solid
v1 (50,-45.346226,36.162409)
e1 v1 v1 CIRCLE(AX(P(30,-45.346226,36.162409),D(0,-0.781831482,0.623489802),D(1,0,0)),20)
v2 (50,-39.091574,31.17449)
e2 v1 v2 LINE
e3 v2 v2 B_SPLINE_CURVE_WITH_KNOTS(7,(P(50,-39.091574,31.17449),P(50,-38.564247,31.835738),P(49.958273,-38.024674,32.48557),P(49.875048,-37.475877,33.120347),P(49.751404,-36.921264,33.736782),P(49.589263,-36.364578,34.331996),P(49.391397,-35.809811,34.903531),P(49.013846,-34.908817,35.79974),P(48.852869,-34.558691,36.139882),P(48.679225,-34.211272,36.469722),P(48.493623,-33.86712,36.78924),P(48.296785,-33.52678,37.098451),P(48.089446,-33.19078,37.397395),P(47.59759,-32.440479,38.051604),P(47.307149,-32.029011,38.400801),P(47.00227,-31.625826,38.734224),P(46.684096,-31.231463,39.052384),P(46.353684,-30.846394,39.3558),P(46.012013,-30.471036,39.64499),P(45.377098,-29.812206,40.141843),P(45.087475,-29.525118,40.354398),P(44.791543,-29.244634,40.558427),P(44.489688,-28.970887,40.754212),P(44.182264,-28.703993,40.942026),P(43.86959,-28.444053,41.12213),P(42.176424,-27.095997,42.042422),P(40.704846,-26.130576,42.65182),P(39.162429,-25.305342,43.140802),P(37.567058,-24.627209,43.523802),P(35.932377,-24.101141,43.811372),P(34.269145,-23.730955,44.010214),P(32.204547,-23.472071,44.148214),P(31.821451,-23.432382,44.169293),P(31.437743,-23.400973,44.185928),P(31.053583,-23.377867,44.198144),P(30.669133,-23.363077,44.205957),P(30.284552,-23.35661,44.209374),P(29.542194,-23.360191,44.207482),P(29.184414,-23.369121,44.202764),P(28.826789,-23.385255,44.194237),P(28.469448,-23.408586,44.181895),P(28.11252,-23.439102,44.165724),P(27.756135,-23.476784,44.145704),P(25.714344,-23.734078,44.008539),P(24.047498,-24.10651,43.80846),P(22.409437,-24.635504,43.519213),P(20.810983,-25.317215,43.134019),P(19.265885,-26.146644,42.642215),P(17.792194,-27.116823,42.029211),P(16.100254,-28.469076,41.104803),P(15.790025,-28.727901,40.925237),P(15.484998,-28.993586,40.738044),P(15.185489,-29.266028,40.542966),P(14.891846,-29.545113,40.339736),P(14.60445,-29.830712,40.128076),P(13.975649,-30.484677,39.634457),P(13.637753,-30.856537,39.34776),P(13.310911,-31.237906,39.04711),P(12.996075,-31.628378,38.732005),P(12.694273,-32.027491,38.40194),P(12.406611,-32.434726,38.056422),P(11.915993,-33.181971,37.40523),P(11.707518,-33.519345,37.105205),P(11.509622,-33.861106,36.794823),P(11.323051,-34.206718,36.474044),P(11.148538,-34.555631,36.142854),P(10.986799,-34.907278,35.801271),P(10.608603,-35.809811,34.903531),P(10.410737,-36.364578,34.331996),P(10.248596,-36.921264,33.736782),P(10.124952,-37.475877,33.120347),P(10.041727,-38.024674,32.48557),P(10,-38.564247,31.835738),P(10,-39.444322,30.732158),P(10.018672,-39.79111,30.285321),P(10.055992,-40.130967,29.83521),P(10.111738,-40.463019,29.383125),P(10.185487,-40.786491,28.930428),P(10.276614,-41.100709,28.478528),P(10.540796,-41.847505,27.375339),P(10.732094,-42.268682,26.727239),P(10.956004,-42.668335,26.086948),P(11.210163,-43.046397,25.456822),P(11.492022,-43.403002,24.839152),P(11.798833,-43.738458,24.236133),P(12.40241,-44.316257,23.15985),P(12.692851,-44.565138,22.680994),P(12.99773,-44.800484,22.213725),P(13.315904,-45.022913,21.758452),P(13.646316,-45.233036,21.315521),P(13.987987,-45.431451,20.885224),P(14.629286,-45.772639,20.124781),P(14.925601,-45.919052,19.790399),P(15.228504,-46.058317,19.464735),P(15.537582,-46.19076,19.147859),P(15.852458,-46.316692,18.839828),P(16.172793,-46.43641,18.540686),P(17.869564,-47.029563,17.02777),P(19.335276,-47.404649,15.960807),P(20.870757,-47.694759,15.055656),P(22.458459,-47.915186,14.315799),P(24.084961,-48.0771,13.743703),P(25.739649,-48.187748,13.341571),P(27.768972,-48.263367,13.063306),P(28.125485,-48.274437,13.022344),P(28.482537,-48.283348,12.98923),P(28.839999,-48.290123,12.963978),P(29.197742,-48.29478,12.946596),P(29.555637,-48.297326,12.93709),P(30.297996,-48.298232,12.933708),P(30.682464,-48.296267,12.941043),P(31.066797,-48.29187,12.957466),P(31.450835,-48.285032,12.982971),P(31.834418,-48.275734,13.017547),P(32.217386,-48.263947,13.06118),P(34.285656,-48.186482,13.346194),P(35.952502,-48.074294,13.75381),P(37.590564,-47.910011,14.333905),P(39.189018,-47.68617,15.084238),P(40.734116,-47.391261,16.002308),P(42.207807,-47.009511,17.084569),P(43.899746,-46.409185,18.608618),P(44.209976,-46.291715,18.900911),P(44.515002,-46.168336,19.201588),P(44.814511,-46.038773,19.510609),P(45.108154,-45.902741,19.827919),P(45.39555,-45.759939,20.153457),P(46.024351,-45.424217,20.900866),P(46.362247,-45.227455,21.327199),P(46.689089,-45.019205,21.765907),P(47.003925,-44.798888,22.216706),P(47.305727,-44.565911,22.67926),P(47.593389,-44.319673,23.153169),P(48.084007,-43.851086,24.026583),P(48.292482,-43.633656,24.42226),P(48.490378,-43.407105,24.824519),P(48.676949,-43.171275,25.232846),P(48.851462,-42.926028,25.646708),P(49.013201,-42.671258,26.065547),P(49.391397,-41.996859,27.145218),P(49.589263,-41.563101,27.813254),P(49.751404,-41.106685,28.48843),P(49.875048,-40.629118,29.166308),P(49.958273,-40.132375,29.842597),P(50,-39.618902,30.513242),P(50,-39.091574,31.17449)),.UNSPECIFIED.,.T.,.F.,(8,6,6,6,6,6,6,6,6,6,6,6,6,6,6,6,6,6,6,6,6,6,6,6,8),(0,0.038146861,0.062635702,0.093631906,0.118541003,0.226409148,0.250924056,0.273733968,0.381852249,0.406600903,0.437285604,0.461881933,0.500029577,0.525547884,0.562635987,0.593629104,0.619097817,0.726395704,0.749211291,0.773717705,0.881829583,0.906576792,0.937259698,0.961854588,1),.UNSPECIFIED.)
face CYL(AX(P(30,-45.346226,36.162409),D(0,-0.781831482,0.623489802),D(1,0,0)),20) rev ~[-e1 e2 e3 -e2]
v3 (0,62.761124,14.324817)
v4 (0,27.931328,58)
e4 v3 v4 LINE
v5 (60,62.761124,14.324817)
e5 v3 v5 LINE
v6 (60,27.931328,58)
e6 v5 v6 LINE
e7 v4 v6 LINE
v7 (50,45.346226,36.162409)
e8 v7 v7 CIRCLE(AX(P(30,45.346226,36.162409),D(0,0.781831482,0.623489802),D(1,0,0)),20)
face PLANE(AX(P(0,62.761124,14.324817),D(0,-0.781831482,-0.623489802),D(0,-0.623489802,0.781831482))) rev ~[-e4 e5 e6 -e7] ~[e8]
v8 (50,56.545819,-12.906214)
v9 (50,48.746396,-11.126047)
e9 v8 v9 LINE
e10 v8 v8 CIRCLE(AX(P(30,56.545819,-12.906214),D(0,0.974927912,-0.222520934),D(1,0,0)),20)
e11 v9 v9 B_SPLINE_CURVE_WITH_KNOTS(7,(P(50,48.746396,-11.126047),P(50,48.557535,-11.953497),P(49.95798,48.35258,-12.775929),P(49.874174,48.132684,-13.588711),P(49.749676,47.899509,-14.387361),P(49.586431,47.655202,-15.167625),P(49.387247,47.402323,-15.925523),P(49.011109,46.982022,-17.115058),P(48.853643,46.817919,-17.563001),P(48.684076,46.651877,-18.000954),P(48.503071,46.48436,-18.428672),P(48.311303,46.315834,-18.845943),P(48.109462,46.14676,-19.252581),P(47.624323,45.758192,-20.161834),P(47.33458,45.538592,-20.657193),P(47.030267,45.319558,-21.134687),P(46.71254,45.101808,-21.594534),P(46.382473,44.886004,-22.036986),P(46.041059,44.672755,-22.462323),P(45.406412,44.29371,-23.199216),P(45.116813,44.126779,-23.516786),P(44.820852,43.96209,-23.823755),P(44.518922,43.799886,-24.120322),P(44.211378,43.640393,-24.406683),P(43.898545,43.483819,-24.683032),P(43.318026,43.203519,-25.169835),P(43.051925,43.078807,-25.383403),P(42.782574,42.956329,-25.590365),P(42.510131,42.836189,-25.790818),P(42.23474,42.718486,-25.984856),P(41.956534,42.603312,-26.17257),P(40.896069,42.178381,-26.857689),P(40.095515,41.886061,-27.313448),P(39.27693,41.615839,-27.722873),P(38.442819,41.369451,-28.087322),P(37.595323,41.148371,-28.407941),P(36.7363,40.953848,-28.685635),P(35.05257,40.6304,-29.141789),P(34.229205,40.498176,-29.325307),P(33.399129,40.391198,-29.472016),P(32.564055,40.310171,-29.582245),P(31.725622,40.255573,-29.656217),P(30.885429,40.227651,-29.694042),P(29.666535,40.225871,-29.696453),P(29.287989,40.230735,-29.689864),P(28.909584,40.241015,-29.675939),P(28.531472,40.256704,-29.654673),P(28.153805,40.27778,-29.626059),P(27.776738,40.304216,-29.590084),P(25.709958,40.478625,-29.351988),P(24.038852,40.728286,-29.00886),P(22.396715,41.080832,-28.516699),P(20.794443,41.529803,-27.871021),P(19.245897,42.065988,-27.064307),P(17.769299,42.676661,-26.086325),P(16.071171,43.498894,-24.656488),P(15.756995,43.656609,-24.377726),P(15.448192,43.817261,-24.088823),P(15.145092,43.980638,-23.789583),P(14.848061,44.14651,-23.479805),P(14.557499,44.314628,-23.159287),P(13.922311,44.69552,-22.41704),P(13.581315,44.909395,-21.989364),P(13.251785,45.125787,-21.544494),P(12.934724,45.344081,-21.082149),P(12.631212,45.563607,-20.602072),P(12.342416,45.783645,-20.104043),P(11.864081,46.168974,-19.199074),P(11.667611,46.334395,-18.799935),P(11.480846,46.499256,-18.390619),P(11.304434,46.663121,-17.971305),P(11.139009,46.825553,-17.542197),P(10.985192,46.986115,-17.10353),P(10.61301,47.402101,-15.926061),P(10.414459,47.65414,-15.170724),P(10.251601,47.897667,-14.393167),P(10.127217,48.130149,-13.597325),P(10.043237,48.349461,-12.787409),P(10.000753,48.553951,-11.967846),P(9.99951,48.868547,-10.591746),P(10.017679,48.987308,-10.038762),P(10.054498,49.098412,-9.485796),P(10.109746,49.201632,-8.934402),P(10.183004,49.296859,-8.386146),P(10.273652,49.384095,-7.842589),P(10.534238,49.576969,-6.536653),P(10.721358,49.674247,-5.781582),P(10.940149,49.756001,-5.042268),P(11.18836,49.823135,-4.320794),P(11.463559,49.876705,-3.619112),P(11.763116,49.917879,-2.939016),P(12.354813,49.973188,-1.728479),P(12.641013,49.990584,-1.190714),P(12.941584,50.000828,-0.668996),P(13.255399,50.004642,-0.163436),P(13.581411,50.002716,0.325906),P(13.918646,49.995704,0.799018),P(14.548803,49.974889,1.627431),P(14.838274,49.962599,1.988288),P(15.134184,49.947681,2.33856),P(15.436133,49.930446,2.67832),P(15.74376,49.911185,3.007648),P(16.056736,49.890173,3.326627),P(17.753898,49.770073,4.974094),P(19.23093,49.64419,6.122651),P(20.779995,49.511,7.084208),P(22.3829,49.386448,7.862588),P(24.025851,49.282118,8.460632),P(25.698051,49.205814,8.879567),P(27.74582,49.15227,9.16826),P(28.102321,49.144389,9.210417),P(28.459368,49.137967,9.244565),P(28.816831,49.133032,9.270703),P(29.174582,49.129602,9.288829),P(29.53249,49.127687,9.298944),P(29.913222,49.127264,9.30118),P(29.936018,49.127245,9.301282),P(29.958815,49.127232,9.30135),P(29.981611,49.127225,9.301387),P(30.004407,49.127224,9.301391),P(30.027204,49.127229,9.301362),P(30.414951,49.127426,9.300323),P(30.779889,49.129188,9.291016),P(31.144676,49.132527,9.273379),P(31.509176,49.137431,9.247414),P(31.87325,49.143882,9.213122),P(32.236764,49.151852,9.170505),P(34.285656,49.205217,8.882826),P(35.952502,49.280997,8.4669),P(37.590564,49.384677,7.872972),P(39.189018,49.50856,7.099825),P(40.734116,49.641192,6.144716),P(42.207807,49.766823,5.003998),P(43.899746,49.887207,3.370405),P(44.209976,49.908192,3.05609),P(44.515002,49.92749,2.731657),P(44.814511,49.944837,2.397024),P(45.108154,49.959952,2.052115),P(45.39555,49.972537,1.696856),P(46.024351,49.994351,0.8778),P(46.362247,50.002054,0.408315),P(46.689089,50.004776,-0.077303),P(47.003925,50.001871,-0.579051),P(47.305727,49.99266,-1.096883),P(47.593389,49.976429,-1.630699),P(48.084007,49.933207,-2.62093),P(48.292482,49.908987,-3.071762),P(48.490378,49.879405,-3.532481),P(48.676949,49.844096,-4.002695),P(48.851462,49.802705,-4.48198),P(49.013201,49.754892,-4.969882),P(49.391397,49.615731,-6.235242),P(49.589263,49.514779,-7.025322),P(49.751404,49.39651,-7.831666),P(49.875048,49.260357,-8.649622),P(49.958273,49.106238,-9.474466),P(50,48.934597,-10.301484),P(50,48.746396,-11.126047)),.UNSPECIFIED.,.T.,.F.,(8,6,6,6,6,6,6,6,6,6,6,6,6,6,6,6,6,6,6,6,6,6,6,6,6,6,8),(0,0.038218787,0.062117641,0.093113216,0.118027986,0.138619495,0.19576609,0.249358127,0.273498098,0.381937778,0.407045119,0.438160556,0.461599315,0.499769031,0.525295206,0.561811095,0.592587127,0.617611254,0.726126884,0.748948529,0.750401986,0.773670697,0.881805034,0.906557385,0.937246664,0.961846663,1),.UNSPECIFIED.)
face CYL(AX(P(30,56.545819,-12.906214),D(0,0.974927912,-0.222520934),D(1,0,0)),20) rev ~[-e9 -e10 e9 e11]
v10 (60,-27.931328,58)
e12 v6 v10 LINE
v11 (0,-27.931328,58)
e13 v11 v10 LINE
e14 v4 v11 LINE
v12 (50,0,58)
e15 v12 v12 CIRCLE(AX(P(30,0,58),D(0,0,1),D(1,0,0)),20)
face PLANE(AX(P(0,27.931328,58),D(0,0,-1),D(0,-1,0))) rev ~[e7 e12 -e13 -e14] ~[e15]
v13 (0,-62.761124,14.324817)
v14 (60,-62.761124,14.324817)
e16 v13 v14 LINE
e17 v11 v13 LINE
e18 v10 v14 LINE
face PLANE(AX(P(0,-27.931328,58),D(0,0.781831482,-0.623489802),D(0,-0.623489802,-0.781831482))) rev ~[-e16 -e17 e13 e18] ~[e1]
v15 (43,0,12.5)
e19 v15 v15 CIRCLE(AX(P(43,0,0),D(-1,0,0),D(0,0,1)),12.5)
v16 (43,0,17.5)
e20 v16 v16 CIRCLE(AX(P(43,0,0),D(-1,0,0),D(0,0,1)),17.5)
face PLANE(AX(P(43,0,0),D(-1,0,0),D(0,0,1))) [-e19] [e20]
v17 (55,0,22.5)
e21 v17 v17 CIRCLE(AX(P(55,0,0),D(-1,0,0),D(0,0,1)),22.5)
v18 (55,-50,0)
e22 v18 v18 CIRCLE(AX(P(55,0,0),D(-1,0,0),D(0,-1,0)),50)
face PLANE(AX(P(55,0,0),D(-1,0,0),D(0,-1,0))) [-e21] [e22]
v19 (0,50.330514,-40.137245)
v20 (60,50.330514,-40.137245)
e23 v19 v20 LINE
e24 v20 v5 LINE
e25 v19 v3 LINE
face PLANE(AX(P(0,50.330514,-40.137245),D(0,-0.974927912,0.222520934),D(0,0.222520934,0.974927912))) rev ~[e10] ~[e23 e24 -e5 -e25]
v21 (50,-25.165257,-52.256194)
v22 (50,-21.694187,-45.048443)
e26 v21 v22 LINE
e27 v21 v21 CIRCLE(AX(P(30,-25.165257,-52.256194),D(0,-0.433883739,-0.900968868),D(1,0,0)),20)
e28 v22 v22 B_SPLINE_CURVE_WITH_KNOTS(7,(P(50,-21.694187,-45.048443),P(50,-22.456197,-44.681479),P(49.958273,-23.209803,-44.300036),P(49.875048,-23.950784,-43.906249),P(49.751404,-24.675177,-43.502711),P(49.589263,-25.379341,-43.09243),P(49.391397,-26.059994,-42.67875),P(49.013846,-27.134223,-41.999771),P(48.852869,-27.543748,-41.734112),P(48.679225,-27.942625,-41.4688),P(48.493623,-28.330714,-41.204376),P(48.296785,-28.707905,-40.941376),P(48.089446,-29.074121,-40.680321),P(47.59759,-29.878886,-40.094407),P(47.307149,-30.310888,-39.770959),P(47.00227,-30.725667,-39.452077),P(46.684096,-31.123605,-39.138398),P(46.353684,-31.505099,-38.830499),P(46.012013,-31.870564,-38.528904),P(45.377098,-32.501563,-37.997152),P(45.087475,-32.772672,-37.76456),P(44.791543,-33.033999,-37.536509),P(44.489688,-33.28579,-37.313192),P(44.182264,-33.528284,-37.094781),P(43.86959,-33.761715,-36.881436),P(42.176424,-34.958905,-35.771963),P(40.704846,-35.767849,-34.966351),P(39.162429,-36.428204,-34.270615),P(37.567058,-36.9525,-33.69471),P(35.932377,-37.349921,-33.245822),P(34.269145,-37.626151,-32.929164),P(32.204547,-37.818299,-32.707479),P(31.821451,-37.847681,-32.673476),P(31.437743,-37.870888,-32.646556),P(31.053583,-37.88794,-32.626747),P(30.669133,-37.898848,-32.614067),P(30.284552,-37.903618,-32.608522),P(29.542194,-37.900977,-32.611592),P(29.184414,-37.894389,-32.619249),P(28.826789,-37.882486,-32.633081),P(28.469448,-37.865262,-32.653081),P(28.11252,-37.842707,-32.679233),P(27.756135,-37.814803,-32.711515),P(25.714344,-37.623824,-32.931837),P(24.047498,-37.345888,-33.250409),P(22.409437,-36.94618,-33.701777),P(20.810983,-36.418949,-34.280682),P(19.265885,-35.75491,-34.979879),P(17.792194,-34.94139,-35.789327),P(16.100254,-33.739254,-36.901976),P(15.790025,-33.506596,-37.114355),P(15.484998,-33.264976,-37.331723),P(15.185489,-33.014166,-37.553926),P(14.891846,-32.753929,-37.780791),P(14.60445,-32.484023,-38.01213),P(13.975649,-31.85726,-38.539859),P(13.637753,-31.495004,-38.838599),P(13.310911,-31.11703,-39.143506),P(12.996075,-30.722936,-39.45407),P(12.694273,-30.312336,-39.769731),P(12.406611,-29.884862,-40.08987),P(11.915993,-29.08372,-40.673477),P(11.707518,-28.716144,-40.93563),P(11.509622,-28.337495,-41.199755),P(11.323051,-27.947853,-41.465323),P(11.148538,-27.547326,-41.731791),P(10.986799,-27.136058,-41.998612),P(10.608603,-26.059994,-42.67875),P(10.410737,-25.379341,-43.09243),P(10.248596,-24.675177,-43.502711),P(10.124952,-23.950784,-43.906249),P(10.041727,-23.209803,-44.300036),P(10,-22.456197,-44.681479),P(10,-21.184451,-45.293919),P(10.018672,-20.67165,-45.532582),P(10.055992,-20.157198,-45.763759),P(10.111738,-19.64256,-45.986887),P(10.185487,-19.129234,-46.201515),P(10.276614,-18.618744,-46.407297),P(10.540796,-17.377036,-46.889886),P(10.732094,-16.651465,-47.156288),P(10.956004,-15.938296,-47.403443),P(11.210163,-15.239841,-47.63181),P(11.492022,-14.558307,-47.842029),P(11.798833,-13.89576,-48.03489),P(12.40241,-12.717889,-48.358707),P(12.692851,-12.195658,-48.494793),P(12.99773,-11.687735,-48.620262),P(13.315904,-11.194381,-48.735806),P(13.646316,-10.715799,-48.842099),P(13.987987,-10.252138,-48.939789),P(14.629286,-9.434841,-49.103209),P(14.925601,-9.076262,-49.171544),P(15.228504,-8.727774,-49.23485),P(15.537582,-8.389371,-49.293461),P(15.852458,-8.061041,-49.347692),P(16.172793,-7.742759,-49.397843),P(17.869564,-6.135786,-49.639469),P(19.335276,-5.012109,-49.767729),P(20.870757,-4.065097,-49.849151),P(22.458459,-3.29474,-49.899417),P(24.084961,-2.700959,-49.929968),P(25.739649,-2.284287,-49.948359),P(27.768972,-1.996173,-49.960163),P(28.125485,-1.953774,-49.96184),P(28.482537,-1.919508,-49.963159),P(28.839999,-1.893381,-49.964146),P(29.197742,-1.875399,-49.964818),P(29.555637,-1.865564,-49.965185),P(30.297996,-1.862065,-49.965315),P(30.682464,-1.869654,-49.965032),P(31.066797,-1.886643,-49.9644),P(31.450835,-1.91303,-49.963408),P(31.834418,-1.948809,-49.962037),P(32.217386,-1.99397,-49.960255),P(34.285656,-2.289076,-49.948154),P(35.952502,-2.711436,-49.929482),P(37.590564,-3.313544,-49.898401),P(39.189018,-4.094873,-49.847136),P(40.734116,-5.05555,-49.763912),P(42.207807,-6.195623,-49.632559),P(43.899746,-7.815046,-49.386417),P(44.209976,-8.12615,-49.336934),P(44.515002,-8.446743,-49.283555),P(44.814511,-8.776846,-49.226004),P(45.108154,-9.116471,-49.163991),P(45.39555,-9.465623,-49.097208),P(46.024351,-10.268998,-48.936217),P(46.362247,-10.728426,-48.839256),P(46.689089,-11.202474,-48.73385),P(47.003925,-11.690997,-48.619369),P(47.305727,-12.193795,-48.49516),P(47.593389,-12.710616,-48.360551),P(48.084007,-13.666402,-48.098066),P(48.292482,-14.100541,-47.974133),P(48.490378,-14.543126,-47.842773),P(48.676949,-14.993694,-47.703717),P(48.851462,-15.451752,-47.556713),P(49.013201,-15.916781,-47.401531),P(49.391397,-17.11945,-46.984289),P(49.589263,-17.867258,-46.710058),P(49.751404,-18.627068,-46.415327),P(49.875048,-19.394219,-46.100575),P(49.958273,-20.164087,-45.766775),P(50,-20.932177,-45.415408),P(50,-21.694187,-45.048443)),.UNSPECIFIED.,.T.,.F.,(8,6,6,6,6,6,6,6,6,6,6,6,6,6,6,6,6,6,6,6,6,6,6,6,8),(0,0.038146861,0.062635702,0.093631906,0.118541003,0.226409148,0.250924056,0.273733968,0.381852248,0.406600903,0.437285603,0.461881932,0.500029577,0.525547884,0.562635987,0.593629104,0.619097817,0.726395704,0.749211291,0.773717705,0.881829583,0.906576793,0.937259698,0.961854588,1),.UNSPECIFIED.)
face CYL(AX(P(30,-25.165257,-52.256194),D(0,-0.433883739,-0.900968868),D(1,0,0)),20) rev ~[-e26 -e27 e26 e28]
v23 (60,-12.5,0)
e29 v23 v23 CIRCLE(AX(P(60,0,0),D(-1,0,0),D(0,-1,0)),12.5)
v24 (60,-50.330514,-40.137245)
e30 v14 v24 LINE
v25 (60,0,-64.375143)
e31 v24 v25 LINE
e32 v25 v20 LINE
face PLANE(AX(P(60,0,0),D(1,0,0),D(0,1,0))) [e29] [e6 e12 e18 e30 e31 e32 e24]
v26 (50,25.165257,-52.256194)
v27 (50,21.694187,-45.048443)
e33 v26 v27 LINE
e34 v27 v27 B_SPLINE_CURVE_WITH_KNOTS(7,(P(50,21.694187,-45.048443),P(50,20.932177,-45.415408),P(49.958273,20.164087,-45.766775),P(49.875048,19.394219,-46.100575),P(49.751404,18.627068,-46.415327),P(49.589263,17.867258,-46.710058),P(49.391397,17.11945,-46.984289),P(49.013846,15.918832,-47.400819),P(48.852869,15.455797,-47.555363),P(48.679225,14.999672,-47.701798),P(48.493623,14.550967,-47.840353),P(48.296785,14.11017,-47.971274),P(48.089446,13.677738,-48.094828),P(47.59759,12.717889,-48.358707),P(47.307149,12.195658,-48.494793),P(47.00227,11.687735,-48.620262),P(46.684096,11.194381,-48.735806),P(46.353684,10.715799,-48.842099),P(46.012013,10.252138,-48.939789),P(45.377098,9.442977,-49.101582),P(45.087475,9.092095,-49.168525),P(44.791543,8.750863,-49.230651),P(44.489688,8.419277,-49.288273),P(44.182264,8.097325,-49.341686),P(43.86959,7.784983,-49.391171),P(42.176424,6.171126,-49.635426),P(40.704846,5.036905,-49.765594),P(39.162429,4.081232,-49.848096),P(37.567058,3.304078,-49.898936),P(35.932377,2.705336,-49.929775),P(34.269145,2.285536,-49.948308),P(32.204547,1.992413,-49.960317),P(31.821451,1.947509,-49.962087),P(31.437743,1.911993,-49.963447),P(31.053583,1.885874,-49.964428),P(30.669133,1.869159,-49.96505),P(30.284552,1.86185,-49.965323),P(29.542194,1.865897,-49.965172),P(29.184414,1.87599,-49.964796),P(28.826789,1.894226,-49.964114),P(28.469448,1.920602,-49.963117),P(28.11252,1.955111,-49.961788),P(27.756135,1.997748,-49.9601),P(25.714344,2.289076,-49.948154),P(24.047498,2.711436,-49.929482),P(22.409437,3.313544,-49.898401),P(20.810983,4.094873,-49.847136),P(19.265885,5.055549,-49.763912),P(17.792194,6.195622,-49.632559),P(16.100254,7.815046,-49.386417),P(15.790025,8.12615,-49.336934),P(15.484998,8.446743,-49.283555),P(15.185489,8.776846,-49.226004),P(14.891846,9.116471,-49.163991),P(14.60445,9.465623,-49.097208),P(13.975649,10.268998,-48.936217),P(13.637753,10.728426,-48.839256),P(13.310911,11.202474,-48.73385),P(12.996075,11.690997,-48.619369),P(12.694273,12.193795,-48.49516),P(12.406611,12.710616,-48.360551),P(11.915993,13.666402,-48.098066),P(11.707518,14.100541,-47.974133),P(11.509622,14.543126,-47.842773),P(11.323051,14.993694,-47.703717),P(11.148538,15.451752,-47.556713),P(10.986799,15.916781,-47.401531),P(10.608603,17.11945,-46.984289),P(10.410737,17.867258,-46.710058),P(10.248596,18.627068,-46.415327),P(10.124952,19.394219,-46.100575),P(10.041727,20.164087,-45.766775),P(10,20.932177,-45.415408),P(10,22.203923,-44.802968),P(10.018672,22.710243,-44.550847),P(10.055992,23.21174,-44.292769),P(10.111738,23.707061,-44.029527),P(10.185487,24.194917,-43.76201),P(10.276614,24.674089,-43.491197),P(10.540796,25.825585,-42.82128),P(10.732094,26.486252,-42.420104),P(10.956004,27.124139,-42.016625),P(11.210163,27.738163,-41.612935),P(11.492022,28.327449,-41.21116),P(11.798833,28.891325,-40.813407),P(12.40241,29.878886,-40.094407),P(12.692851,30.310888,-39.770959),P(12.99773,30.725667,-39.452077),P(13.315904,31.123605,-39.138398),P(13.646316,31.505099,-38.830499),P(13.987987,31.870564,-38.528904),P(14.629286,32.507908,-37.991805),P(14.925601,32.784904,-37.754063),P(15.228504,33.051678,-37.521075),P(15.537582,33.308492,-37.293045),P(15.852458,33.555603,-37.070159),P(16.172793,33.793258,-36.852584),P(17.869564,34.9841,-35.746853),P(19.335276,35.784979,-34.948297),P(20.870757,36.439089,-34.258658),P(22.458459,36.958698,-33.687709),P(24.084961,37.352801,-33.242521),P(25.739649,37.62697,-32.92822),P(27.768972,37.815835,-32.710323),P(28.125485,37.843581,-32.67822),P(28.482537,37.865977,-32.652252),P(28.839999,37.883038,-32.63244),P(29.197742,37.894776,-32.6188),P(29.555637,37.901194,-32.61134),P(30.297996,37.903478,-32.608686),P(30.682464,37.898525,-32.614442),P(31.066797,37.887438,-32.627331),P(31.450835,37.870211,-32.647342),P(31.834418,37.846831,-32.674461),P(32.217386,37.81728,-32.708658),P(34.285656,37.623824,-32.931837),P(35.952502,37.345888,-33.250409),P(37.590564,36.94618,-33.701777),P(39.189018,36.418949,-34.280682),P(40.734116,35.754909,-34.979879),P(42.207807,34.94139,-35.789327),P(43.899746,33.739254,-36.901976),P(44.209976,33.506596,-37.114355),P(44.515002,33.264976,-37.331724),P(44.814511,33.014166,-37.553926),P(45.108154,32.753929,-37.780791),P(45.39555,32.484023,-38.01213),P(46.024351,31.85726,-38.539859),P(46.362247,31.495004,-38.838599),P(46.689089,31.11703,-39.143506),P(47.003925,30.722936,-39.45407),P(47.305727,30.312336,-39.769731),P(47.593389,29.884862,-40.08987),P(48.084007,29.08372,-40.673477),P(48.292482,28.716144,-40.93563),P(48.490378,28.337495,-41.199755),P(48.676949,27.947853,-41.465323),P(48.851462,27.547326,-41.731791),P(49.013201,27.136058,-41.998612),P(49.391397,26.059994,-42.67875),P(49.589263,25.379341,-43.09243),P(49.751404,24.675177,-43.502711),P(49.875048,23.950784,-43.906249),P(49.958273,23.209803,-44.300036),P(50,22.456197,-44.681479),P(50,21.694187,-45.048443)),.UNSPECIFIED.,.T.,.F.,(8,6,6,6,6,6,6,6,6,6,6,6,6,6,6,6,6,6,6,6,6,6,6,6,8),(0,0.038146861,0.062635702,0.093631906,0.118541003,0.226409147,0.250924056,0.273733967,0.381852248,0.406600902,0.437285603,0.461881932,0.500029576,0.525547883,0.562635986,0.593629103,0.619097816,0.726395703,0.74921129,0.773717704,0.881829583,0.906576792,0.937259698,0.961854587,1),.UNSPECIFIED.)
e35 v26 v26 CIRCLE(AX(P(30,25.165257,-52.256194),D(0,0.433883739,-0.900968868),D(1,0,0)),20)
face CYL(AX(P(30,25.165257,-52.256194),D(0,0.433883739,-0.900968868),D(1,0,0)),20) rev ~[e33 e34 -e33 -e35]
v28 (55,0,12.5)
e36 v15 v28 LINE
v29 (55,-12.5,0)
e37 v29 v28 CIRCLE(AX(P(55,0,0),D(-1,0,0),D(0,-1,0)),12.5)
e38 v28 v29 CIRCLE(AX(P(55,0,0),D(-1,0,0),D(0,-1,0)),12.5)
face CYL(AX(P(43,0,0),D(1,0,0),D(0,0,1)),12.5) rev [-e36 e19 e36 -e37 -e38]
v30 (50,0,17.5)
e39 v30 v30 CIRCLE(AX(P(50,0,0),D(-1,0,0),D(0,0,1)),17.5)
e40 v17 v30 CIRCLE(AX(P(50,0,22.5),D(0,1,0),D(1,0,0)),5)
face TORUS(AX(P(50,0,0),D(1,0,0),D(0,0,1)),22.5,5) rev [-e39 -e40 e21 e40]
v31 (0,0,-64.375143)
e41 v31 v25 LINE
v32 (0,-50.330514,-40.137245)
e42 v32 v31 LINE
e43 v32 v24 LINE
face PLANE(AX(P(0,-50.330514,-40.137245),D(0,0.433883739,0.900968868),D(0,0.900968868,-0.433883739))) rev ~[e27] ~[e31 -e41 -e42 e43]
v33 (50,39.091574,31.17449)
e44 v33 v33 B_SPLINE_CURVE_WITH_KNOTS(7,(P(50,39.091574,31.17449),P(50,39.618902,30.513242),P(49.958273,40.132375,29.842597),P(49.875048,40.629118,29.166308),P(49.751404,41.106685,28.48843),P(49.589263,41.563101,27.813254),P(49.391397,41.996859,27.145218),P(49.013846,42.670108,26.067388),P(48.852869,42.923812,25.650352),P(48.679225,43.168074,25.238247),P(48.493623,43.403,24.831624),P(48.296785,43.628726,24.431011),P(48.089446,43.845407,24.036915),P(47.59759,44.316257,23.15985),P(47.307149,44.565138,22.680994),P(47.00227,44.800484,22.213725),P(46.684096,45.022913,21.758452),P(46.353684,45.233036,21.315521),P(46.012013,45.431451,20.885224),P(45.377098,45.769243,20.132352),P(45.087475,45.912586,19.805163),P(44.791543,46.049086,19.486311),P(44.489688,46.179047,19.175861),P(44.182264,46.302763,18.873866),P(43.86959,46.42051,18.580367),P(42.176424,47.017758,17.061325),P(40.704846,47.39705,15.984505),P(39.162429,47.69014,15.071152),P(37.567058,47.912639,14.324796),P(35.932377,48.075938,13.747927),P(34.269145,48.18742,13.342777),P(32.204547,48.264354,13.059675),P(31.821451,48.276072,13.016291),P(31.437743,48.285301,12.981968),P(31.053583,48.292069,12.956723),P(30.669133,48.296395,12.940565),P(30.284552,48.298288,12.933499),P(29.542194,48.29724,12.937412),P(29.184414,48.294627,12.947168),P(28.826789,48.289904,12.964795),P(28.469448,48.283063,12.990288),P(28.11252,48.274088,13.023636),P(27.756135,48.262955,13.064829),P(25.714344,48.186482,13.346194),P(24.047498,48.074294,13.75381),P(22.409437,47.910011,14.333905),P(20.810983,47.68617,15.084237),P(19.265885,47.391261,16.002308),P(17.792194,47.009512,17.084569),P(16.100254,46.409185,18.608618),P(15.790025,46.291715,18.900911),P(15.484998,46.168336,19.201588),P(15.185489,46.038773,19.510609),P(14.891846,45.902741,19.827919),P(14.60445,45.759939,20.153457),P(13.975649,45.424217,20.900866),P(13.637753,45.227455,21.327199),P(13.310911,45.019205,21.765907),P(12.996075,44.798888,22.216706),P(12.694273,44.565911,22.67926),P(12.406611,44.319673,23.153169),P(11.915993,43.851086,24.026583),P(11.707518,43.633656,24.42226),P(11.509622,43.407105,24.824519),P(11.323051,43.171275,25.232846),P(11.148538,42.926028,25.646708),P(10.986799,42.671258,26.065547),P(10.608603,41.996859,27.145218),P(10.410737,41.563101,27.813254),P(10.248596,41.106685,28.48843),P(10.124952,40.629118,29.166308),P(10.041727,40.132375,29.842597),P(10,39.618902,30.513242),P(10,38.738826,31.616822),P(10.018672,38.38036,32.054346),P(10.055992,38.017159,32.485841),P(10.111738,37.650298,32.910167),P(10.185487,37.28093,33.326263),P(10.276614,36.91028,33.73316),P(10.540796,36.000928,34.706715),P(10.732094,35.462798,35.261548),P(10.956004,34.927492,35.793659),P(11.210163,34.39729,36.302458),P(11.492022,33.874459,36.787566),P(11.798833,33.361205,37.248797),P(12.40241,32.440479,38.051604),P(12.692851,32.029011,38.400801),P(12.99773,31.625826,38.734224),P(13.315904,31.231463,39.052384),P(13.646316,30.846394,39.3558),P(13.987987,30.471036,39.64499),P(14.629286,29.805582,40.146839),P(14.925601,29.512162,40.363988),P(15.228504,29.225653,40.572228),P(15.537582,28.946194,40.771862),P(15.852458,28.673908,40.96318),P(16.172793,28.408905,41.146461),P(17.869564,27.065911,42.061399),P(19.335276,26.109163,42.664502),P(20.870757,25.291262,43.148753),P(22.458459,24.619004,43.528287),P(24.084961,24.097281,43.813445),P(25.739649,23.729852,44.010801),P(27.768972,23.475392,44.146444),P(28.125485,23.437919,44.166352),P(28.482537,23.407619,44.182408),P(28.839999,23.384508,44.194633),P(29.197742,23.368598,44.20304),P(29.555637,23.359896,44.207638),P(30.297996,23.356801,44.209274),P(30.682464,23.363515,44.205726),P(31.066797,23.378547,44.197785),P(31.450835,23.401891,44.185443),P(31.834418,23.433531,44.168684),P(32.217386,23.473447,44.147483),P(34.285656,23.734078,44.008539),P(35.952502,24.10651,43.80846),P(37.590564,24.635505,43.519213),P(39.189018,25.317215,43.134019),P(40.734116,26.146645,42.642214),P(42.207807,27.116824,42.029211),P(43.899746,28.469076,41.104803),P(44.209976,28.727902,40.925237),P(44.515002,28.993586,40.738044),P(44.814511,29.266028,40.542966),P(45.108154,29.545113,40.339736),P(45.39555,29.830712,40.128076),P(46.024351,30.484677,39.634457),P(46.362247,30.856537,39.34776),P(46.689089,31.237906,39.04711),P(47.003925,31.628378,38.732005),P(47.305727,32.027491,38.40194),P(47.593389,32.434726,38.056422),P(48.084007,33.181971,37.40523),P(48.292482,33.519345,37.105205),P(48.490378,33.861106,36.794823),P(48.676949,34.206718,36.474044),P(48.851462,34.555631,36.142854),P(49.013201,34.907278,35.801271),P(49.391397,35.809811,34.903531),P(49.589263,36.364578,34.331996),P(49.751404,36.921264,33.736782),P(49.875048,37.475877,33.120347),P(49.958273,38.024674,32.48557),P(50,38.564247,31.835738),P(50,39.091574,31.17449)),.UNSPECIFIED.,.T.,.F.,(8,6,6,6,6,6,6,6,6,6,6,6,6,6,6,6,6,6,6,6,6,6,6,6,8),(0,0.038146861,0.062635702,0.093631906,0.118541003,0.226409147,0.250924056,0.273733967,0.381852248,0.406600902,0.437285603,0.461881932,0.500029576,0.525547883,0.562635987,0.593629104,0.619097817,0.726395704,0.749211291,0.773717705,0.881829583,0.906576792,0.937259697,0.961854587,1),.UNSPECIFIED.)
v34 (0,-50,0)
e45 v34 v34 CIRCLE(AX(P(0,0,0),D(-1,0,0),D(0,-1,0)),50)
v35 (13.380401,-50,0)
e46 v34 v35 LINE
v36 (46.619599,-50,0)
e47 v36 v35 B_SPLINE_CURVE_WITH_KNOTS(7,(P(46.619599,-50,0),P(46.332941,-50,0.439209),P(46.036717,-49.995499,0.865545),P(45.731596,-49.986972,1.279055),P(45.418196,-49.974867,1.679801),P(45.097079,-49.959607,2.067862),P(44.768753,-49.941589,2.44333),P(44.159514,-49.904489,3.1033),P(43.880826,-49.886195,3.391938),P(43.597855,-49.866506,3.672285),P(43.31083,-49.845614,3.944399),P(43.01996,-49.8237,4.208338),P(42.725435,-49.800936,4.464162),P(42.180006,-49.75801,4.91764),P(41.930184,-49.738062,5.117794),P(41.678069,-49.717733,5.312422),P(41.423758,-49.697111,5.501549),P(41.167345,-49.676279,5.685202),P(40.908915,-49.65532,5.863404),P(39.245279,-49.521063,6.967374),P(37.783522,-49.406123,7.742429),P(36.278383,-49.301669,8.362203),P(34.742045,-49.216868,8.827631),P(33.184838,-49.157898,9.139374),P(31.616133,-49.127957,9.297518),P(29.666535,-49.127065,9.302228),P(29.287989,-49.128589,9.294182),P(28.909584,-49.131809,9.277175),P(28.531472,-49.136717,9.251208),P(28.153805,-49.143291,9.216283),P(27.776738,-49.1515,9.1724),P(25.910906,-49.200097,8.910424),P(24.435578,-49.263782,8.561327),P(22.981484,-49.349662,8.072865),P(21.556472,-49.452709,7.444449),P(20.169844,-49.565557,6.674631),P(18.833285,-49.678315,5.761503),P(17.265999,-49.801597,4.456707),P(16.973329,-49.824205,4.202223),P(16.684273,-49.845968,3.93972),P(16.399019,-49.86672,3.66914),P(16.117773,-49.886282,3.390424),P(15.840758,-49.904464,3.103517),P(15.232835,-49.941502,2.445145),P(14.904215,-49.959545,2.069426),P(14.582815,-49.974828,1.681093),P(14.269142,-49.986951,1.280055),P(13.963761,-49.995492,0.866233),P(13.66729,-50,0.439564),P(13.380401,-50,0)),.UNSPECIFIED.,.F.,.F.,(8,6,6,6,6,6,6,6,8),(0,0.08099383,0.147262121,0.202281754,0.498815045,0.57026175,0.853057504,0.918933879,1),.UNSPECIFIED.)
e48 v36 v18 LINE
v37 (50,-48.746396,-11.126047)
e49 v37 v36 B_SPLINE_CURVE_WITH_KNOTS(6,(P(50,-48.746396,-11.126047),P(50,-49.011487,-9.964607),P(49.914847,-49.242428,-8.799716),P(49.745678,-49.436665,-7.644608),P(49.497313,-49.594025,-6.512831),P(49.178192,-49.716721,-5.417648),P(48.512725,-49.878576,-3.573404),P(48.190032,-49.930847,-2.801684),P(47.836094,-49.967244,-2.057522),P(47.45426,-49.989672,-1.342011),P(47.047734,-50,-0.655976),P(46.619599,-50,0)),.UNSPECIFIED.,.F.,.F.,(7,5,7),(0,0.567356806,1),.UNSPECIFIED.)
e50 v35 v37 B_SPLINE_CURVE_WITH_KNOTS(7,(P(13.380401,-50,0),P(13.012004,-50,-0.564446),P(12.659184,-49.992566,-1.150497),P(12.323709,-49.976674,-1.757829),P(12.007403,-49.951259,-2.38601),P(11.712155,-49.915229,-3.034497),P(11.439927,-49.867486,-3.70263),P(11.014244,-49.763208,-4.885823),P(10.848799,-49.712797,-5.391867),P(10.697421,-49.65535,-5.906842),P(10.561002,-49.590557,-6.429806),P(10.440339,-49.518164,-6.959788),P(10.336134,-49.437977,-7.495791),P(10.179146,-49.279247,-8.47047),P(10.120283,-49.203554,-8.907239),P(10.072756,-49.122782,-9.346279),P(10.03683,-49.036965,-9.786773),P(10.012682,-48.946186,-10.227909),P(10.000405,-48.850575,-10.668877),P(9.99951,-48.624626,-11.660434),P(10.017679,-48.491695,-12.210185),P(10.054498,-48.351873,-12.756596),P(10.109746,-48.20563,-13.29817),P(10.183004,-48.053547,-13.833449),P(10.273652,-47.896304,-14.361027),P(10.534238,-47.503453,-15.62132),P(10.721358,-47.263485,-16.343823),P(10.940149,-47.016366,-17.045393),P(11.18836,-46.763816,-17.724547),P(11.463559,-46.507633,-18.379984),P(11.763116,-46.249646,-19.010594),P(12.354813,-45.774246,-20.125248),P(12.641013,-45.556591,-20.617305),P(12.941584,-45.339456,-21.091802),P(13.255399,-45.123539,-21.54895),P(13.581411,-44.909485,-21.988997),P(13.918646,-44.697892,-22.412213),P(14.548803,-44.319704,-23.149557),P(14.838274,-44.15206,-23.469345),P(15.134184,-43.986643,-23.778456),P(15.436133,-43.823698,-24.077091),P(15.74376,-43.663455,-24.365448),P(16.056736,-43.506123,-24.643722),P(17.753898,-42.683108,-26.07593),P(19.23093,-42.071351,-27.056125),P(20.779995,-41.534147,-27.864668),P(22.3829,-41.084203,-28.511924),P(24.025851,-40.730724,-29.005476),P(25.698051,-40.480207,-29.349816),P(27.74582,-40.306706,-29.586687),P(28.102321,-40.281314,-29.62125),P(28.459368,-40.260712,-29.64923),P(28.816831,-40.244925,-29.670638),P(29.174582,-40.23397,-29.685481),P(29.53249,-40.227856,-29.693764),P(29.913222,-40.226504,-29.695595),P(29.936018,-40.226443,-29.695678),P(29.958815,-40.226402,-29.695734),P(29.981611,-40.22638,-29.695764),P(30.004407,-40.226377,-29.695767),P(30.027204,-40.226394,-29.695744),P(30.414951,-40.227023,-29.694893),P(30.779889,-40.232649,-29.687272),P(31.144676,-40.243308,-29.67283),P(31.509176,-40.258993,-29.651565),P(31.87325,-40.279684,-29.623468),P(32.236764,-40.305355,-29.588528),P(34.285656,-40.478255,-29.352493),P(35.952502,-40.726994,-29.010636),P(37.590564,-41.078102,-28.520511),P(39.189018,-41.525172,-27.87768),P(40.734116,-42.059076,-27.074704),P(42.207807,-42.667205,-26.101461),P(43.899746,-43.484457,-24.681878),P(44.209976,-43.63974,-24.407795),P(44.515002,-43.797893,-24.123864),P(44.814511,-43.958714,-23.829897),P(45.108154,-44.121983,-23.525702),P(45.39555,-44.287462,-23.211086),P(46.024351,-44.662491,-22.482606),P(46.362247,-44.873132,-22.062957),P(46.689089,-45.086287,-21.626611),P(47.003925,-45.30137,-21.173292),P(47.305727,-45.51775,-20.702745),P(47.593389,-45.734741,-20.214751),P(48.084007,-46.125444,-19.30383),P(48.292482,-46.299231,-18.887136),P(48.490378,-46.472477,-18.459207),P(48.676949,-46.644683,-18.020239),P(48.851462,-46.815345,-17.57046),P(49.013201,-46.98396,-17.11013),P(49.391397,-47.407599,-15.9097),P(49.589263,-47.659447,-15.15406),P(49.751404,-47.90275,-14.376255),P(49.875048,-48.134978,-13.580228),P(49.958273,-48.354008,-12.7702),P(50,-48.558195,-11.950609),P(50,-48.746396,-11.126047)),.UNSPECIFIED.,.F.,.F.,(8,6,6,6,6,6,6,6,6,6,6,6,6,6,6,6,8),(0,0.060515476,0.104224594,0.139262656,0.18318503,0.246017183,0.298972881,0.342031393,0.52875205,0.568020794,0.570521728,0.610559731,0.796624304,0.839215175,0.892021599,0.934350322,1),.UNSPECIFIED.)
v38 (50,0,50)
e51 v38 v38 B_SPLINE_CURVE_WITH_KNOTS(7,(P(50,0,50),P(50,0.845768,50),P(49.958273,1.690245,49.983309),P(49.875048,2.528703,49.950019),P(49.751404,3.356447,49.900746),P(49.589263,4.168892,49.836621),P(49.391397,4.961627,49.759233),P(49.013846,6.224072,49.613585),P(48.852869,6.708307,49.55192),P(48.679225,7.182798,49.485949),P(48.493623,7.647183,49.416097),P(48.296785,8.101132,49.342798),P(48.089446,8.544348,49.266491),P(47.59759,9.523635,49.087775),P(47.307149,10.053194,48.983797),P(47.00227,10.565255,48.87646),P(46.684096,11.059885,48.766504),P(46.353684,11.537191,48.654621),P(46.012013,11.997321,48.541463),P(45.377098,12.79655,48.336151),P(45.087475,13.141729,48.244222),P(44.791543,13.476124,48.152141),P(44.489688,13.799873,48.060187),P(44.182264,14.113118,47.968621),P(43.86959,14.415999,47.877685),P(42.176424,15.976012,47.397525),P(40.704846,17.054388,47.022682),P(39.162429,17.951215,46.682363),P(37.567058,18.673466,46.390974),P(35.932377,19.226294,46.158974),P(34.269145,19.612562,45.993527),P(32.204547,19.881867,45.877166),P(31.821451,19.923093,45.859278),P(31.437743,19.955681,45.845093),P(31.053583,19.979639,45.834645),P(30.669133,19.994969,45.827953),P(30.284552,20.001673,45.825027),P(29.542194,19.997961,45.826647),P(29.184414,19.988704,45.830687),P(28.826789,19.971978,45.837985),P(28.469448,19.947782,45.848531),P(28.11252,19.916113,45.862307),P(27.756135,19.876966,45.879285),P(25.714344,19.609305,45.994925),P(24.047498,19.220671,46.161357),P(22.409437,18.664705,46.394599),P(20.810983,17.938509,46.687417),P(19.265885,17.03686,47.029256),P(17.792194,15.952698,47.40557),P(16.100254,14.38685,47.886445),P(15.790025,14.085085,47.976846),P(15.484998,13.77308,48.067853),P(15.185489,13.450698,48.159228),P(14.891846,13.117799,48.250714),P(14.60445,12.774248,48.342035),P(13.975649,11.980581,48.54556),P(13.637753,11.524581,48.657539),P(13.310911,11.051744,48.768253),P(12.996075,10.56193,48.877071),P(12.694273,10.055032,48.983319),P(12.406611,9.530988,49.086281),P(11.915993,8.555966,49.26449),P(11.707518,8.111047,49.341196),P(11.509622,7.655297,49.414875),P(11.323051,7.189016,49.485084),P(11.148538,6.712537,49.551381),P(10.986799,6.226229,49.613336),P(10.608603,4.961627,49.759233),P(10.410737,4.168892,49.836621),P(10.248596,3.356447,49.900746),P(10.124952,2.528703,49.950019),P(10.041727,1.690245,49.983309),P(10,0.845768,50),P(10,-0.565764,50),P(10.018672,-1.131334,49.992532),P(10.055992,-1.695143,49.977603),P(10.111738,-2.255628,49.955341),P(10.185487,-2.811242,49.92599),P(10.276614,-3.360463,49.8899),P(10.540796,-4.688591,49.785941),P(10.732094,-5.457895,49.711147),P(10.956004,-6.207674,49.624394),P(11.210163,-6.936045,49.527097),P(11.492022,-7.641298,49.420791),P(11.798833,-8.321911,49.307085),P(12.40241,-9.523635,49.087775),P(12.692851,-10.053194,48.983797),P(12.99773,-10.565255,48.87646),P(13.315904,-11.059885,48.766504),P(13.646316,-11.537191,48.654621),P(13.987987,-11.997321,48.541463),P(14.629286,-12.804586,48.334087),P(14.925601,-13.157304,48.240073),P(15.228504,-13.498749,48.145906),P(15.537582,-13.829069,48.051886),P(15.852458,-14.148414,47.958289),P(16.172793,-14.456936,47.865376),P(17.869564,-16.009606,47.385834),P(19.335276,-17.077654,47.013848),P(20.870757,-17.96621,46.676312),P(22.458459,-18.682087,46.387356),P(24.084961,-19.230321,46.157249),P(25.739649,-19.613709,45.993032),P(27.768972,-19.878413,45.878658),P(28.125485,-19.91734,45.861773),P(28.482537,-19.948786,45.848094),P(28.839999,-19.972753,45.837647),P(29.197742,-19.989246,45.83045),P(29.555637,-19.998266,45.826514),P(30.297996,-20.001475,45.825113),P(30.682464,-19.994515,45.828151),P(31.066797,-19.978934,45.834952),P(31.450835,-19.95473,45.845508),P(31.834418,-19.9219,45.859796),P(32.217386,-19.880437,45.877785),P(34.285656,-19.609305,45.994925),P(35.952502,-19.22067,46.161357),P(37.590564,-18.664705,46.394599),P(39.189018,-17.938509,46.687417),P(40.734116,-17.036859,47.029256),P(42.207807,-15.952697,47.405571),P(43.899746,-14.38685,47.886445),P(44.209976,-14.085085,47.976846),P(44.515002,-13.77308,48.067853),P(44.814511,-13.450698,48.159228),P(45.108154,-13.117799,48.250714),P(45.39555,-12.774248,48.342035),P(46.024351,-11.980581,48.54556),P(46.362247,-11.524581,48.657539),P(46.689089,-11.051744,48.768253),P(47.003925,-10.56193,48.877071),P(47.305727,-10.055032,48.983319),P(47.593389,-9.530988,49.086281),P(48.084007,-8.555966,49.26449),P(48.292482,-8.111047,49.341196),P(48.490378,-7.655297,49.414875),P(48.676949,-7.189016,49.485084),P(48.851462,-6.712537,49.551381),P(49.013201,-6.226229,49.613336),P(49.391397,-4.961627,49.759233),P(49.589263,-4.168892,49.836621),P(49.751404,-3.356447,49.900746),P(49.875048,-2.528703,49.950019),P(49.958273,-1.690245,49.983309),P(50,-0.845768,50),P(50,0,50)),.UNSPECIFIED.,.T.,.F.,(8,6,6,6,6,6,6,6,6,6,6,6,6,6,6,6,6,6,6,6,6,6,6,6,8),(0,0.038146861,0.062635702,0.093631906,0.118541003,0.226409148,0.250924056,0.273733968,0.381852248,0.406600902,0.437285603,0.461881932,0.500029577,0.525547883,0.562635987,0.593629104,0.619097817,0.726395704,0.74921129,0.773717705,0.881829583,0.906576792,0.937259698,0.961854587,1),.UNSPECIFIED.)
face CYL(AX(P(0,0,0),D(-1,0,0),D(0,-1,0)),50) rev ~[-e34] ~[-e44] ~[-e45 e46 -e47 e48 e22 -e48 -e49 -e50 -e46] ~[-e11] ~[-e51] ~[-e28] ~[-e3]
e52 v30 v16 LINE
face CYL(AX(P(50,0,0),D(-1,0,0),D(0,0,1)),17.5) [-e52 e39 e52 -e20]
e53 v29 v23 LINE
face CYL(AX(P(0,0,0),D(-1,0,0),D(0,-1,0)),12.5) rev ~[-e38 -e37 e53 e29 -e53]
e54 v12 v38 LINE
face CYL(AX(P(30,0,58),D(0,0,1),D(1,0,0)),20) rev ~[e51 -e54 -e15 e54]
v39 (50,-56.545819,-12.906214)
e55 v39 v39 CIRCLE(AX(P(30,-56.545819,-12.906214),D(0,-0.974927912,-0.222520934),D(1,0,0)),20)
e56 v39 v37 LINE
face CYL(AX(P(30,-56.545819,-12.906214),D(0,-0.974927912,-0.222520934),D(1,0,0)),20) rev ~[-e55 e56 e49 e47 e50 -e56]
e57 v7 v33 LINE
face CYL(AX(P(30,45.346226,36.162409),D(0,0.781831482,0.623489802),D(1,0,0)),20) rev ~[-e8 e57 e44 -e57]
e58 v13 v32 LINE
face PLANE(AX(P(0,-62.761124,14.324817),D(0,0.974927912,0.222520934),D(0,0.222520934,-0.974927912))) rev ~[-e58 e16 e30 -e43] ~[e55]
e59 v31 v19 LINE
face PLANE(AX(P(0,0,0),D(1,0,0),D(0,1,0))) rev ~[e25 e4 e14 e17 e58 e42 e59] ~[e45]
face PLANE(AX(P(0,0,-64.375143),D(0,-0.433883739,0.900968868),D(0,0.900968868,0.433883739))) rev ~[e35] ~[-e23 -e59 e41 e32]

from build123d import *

# Parameters (mm, degrees)
F1_DEPTH  = 60
F2_R      = 50
F3_DEPTH  = 55
F4_R      = 12.5
F5_DEPTH  = 60.001
F8_R      = 20
F9_DEPTH  = 25
F10_COUNT = 7


with BuildPart() as f1:
    # F0 (on Right) → F1 (new body)
    with BuildSketch(Plane.YZ):
        Polygon((27.9313278908, 58), (-27.9313278908, 58), (-62.7611240755, 14.3248170156), (-50.3305137376, -40.1372453545), (0, -64.3751433221), (50.3305137376, -40.1372453545), (62.7611240755, 14.3248170156), align=None)
    extrude(amount=F1_DEPTH)

    # F2 (on face) → F3 (cut)
    with BuildSketch(Plane(origin=(0, 0, 0), x_dir=(0, -1, 0), z_dir=(-1, 0, 0))):
        Circle(F2_R)
    extrude(amount=-F3_DEPTH, mode=Mode.SUBTRACT)

    # F4 (on face) → F5 (cut, through all)
    with BuildSketch(Plane(origin=(0, 0, 0), x_dir=(0, -1, 0), z_dir=(-1, 0, 0))):
        Circle(F4_R)
    extrude(amount=-F5_DEPTH, mode=Mode.SUBTRACT)

    # F6 (on Front) → F7 (revolve)
    with BuildSketch(Plane.XZ):
        with BuildLine():
            Line((43, 17.5), (43, 12.5))
            Line((43, 12.5), (55, 12.5))
            Line((55, 12.5), (55, 22.5))
            ThreePointArc((55, 22.5), (53.5355339059, 18.9644660941), (50, 17.5))
            Line((50, 17.5), (43, 17.5))
        make_face()
    revolve(axis=Axis((55, 0, 0), (-1, 0, 0)))

    # F8 (on face) → F9 (cut)
    with BuildSketch(Plane.XY.offset(58)):
        with Locations((30, 0)):
            Circle(F8_R)
    f9 = extrude(amount=-F9_DEPTH, mode=Mode.SUBTRACT)

    # F10: F9 ×7 about axis
    f10_axis = Axis((60, 0, 0), (-1, 0, 0))
    for i in range(1, F10_COUNT):
        add(f9.rotate(f10_axis, i * 360 / F10_COUNT), mode=Mode.SUBTRACT)


solid = f1.part
